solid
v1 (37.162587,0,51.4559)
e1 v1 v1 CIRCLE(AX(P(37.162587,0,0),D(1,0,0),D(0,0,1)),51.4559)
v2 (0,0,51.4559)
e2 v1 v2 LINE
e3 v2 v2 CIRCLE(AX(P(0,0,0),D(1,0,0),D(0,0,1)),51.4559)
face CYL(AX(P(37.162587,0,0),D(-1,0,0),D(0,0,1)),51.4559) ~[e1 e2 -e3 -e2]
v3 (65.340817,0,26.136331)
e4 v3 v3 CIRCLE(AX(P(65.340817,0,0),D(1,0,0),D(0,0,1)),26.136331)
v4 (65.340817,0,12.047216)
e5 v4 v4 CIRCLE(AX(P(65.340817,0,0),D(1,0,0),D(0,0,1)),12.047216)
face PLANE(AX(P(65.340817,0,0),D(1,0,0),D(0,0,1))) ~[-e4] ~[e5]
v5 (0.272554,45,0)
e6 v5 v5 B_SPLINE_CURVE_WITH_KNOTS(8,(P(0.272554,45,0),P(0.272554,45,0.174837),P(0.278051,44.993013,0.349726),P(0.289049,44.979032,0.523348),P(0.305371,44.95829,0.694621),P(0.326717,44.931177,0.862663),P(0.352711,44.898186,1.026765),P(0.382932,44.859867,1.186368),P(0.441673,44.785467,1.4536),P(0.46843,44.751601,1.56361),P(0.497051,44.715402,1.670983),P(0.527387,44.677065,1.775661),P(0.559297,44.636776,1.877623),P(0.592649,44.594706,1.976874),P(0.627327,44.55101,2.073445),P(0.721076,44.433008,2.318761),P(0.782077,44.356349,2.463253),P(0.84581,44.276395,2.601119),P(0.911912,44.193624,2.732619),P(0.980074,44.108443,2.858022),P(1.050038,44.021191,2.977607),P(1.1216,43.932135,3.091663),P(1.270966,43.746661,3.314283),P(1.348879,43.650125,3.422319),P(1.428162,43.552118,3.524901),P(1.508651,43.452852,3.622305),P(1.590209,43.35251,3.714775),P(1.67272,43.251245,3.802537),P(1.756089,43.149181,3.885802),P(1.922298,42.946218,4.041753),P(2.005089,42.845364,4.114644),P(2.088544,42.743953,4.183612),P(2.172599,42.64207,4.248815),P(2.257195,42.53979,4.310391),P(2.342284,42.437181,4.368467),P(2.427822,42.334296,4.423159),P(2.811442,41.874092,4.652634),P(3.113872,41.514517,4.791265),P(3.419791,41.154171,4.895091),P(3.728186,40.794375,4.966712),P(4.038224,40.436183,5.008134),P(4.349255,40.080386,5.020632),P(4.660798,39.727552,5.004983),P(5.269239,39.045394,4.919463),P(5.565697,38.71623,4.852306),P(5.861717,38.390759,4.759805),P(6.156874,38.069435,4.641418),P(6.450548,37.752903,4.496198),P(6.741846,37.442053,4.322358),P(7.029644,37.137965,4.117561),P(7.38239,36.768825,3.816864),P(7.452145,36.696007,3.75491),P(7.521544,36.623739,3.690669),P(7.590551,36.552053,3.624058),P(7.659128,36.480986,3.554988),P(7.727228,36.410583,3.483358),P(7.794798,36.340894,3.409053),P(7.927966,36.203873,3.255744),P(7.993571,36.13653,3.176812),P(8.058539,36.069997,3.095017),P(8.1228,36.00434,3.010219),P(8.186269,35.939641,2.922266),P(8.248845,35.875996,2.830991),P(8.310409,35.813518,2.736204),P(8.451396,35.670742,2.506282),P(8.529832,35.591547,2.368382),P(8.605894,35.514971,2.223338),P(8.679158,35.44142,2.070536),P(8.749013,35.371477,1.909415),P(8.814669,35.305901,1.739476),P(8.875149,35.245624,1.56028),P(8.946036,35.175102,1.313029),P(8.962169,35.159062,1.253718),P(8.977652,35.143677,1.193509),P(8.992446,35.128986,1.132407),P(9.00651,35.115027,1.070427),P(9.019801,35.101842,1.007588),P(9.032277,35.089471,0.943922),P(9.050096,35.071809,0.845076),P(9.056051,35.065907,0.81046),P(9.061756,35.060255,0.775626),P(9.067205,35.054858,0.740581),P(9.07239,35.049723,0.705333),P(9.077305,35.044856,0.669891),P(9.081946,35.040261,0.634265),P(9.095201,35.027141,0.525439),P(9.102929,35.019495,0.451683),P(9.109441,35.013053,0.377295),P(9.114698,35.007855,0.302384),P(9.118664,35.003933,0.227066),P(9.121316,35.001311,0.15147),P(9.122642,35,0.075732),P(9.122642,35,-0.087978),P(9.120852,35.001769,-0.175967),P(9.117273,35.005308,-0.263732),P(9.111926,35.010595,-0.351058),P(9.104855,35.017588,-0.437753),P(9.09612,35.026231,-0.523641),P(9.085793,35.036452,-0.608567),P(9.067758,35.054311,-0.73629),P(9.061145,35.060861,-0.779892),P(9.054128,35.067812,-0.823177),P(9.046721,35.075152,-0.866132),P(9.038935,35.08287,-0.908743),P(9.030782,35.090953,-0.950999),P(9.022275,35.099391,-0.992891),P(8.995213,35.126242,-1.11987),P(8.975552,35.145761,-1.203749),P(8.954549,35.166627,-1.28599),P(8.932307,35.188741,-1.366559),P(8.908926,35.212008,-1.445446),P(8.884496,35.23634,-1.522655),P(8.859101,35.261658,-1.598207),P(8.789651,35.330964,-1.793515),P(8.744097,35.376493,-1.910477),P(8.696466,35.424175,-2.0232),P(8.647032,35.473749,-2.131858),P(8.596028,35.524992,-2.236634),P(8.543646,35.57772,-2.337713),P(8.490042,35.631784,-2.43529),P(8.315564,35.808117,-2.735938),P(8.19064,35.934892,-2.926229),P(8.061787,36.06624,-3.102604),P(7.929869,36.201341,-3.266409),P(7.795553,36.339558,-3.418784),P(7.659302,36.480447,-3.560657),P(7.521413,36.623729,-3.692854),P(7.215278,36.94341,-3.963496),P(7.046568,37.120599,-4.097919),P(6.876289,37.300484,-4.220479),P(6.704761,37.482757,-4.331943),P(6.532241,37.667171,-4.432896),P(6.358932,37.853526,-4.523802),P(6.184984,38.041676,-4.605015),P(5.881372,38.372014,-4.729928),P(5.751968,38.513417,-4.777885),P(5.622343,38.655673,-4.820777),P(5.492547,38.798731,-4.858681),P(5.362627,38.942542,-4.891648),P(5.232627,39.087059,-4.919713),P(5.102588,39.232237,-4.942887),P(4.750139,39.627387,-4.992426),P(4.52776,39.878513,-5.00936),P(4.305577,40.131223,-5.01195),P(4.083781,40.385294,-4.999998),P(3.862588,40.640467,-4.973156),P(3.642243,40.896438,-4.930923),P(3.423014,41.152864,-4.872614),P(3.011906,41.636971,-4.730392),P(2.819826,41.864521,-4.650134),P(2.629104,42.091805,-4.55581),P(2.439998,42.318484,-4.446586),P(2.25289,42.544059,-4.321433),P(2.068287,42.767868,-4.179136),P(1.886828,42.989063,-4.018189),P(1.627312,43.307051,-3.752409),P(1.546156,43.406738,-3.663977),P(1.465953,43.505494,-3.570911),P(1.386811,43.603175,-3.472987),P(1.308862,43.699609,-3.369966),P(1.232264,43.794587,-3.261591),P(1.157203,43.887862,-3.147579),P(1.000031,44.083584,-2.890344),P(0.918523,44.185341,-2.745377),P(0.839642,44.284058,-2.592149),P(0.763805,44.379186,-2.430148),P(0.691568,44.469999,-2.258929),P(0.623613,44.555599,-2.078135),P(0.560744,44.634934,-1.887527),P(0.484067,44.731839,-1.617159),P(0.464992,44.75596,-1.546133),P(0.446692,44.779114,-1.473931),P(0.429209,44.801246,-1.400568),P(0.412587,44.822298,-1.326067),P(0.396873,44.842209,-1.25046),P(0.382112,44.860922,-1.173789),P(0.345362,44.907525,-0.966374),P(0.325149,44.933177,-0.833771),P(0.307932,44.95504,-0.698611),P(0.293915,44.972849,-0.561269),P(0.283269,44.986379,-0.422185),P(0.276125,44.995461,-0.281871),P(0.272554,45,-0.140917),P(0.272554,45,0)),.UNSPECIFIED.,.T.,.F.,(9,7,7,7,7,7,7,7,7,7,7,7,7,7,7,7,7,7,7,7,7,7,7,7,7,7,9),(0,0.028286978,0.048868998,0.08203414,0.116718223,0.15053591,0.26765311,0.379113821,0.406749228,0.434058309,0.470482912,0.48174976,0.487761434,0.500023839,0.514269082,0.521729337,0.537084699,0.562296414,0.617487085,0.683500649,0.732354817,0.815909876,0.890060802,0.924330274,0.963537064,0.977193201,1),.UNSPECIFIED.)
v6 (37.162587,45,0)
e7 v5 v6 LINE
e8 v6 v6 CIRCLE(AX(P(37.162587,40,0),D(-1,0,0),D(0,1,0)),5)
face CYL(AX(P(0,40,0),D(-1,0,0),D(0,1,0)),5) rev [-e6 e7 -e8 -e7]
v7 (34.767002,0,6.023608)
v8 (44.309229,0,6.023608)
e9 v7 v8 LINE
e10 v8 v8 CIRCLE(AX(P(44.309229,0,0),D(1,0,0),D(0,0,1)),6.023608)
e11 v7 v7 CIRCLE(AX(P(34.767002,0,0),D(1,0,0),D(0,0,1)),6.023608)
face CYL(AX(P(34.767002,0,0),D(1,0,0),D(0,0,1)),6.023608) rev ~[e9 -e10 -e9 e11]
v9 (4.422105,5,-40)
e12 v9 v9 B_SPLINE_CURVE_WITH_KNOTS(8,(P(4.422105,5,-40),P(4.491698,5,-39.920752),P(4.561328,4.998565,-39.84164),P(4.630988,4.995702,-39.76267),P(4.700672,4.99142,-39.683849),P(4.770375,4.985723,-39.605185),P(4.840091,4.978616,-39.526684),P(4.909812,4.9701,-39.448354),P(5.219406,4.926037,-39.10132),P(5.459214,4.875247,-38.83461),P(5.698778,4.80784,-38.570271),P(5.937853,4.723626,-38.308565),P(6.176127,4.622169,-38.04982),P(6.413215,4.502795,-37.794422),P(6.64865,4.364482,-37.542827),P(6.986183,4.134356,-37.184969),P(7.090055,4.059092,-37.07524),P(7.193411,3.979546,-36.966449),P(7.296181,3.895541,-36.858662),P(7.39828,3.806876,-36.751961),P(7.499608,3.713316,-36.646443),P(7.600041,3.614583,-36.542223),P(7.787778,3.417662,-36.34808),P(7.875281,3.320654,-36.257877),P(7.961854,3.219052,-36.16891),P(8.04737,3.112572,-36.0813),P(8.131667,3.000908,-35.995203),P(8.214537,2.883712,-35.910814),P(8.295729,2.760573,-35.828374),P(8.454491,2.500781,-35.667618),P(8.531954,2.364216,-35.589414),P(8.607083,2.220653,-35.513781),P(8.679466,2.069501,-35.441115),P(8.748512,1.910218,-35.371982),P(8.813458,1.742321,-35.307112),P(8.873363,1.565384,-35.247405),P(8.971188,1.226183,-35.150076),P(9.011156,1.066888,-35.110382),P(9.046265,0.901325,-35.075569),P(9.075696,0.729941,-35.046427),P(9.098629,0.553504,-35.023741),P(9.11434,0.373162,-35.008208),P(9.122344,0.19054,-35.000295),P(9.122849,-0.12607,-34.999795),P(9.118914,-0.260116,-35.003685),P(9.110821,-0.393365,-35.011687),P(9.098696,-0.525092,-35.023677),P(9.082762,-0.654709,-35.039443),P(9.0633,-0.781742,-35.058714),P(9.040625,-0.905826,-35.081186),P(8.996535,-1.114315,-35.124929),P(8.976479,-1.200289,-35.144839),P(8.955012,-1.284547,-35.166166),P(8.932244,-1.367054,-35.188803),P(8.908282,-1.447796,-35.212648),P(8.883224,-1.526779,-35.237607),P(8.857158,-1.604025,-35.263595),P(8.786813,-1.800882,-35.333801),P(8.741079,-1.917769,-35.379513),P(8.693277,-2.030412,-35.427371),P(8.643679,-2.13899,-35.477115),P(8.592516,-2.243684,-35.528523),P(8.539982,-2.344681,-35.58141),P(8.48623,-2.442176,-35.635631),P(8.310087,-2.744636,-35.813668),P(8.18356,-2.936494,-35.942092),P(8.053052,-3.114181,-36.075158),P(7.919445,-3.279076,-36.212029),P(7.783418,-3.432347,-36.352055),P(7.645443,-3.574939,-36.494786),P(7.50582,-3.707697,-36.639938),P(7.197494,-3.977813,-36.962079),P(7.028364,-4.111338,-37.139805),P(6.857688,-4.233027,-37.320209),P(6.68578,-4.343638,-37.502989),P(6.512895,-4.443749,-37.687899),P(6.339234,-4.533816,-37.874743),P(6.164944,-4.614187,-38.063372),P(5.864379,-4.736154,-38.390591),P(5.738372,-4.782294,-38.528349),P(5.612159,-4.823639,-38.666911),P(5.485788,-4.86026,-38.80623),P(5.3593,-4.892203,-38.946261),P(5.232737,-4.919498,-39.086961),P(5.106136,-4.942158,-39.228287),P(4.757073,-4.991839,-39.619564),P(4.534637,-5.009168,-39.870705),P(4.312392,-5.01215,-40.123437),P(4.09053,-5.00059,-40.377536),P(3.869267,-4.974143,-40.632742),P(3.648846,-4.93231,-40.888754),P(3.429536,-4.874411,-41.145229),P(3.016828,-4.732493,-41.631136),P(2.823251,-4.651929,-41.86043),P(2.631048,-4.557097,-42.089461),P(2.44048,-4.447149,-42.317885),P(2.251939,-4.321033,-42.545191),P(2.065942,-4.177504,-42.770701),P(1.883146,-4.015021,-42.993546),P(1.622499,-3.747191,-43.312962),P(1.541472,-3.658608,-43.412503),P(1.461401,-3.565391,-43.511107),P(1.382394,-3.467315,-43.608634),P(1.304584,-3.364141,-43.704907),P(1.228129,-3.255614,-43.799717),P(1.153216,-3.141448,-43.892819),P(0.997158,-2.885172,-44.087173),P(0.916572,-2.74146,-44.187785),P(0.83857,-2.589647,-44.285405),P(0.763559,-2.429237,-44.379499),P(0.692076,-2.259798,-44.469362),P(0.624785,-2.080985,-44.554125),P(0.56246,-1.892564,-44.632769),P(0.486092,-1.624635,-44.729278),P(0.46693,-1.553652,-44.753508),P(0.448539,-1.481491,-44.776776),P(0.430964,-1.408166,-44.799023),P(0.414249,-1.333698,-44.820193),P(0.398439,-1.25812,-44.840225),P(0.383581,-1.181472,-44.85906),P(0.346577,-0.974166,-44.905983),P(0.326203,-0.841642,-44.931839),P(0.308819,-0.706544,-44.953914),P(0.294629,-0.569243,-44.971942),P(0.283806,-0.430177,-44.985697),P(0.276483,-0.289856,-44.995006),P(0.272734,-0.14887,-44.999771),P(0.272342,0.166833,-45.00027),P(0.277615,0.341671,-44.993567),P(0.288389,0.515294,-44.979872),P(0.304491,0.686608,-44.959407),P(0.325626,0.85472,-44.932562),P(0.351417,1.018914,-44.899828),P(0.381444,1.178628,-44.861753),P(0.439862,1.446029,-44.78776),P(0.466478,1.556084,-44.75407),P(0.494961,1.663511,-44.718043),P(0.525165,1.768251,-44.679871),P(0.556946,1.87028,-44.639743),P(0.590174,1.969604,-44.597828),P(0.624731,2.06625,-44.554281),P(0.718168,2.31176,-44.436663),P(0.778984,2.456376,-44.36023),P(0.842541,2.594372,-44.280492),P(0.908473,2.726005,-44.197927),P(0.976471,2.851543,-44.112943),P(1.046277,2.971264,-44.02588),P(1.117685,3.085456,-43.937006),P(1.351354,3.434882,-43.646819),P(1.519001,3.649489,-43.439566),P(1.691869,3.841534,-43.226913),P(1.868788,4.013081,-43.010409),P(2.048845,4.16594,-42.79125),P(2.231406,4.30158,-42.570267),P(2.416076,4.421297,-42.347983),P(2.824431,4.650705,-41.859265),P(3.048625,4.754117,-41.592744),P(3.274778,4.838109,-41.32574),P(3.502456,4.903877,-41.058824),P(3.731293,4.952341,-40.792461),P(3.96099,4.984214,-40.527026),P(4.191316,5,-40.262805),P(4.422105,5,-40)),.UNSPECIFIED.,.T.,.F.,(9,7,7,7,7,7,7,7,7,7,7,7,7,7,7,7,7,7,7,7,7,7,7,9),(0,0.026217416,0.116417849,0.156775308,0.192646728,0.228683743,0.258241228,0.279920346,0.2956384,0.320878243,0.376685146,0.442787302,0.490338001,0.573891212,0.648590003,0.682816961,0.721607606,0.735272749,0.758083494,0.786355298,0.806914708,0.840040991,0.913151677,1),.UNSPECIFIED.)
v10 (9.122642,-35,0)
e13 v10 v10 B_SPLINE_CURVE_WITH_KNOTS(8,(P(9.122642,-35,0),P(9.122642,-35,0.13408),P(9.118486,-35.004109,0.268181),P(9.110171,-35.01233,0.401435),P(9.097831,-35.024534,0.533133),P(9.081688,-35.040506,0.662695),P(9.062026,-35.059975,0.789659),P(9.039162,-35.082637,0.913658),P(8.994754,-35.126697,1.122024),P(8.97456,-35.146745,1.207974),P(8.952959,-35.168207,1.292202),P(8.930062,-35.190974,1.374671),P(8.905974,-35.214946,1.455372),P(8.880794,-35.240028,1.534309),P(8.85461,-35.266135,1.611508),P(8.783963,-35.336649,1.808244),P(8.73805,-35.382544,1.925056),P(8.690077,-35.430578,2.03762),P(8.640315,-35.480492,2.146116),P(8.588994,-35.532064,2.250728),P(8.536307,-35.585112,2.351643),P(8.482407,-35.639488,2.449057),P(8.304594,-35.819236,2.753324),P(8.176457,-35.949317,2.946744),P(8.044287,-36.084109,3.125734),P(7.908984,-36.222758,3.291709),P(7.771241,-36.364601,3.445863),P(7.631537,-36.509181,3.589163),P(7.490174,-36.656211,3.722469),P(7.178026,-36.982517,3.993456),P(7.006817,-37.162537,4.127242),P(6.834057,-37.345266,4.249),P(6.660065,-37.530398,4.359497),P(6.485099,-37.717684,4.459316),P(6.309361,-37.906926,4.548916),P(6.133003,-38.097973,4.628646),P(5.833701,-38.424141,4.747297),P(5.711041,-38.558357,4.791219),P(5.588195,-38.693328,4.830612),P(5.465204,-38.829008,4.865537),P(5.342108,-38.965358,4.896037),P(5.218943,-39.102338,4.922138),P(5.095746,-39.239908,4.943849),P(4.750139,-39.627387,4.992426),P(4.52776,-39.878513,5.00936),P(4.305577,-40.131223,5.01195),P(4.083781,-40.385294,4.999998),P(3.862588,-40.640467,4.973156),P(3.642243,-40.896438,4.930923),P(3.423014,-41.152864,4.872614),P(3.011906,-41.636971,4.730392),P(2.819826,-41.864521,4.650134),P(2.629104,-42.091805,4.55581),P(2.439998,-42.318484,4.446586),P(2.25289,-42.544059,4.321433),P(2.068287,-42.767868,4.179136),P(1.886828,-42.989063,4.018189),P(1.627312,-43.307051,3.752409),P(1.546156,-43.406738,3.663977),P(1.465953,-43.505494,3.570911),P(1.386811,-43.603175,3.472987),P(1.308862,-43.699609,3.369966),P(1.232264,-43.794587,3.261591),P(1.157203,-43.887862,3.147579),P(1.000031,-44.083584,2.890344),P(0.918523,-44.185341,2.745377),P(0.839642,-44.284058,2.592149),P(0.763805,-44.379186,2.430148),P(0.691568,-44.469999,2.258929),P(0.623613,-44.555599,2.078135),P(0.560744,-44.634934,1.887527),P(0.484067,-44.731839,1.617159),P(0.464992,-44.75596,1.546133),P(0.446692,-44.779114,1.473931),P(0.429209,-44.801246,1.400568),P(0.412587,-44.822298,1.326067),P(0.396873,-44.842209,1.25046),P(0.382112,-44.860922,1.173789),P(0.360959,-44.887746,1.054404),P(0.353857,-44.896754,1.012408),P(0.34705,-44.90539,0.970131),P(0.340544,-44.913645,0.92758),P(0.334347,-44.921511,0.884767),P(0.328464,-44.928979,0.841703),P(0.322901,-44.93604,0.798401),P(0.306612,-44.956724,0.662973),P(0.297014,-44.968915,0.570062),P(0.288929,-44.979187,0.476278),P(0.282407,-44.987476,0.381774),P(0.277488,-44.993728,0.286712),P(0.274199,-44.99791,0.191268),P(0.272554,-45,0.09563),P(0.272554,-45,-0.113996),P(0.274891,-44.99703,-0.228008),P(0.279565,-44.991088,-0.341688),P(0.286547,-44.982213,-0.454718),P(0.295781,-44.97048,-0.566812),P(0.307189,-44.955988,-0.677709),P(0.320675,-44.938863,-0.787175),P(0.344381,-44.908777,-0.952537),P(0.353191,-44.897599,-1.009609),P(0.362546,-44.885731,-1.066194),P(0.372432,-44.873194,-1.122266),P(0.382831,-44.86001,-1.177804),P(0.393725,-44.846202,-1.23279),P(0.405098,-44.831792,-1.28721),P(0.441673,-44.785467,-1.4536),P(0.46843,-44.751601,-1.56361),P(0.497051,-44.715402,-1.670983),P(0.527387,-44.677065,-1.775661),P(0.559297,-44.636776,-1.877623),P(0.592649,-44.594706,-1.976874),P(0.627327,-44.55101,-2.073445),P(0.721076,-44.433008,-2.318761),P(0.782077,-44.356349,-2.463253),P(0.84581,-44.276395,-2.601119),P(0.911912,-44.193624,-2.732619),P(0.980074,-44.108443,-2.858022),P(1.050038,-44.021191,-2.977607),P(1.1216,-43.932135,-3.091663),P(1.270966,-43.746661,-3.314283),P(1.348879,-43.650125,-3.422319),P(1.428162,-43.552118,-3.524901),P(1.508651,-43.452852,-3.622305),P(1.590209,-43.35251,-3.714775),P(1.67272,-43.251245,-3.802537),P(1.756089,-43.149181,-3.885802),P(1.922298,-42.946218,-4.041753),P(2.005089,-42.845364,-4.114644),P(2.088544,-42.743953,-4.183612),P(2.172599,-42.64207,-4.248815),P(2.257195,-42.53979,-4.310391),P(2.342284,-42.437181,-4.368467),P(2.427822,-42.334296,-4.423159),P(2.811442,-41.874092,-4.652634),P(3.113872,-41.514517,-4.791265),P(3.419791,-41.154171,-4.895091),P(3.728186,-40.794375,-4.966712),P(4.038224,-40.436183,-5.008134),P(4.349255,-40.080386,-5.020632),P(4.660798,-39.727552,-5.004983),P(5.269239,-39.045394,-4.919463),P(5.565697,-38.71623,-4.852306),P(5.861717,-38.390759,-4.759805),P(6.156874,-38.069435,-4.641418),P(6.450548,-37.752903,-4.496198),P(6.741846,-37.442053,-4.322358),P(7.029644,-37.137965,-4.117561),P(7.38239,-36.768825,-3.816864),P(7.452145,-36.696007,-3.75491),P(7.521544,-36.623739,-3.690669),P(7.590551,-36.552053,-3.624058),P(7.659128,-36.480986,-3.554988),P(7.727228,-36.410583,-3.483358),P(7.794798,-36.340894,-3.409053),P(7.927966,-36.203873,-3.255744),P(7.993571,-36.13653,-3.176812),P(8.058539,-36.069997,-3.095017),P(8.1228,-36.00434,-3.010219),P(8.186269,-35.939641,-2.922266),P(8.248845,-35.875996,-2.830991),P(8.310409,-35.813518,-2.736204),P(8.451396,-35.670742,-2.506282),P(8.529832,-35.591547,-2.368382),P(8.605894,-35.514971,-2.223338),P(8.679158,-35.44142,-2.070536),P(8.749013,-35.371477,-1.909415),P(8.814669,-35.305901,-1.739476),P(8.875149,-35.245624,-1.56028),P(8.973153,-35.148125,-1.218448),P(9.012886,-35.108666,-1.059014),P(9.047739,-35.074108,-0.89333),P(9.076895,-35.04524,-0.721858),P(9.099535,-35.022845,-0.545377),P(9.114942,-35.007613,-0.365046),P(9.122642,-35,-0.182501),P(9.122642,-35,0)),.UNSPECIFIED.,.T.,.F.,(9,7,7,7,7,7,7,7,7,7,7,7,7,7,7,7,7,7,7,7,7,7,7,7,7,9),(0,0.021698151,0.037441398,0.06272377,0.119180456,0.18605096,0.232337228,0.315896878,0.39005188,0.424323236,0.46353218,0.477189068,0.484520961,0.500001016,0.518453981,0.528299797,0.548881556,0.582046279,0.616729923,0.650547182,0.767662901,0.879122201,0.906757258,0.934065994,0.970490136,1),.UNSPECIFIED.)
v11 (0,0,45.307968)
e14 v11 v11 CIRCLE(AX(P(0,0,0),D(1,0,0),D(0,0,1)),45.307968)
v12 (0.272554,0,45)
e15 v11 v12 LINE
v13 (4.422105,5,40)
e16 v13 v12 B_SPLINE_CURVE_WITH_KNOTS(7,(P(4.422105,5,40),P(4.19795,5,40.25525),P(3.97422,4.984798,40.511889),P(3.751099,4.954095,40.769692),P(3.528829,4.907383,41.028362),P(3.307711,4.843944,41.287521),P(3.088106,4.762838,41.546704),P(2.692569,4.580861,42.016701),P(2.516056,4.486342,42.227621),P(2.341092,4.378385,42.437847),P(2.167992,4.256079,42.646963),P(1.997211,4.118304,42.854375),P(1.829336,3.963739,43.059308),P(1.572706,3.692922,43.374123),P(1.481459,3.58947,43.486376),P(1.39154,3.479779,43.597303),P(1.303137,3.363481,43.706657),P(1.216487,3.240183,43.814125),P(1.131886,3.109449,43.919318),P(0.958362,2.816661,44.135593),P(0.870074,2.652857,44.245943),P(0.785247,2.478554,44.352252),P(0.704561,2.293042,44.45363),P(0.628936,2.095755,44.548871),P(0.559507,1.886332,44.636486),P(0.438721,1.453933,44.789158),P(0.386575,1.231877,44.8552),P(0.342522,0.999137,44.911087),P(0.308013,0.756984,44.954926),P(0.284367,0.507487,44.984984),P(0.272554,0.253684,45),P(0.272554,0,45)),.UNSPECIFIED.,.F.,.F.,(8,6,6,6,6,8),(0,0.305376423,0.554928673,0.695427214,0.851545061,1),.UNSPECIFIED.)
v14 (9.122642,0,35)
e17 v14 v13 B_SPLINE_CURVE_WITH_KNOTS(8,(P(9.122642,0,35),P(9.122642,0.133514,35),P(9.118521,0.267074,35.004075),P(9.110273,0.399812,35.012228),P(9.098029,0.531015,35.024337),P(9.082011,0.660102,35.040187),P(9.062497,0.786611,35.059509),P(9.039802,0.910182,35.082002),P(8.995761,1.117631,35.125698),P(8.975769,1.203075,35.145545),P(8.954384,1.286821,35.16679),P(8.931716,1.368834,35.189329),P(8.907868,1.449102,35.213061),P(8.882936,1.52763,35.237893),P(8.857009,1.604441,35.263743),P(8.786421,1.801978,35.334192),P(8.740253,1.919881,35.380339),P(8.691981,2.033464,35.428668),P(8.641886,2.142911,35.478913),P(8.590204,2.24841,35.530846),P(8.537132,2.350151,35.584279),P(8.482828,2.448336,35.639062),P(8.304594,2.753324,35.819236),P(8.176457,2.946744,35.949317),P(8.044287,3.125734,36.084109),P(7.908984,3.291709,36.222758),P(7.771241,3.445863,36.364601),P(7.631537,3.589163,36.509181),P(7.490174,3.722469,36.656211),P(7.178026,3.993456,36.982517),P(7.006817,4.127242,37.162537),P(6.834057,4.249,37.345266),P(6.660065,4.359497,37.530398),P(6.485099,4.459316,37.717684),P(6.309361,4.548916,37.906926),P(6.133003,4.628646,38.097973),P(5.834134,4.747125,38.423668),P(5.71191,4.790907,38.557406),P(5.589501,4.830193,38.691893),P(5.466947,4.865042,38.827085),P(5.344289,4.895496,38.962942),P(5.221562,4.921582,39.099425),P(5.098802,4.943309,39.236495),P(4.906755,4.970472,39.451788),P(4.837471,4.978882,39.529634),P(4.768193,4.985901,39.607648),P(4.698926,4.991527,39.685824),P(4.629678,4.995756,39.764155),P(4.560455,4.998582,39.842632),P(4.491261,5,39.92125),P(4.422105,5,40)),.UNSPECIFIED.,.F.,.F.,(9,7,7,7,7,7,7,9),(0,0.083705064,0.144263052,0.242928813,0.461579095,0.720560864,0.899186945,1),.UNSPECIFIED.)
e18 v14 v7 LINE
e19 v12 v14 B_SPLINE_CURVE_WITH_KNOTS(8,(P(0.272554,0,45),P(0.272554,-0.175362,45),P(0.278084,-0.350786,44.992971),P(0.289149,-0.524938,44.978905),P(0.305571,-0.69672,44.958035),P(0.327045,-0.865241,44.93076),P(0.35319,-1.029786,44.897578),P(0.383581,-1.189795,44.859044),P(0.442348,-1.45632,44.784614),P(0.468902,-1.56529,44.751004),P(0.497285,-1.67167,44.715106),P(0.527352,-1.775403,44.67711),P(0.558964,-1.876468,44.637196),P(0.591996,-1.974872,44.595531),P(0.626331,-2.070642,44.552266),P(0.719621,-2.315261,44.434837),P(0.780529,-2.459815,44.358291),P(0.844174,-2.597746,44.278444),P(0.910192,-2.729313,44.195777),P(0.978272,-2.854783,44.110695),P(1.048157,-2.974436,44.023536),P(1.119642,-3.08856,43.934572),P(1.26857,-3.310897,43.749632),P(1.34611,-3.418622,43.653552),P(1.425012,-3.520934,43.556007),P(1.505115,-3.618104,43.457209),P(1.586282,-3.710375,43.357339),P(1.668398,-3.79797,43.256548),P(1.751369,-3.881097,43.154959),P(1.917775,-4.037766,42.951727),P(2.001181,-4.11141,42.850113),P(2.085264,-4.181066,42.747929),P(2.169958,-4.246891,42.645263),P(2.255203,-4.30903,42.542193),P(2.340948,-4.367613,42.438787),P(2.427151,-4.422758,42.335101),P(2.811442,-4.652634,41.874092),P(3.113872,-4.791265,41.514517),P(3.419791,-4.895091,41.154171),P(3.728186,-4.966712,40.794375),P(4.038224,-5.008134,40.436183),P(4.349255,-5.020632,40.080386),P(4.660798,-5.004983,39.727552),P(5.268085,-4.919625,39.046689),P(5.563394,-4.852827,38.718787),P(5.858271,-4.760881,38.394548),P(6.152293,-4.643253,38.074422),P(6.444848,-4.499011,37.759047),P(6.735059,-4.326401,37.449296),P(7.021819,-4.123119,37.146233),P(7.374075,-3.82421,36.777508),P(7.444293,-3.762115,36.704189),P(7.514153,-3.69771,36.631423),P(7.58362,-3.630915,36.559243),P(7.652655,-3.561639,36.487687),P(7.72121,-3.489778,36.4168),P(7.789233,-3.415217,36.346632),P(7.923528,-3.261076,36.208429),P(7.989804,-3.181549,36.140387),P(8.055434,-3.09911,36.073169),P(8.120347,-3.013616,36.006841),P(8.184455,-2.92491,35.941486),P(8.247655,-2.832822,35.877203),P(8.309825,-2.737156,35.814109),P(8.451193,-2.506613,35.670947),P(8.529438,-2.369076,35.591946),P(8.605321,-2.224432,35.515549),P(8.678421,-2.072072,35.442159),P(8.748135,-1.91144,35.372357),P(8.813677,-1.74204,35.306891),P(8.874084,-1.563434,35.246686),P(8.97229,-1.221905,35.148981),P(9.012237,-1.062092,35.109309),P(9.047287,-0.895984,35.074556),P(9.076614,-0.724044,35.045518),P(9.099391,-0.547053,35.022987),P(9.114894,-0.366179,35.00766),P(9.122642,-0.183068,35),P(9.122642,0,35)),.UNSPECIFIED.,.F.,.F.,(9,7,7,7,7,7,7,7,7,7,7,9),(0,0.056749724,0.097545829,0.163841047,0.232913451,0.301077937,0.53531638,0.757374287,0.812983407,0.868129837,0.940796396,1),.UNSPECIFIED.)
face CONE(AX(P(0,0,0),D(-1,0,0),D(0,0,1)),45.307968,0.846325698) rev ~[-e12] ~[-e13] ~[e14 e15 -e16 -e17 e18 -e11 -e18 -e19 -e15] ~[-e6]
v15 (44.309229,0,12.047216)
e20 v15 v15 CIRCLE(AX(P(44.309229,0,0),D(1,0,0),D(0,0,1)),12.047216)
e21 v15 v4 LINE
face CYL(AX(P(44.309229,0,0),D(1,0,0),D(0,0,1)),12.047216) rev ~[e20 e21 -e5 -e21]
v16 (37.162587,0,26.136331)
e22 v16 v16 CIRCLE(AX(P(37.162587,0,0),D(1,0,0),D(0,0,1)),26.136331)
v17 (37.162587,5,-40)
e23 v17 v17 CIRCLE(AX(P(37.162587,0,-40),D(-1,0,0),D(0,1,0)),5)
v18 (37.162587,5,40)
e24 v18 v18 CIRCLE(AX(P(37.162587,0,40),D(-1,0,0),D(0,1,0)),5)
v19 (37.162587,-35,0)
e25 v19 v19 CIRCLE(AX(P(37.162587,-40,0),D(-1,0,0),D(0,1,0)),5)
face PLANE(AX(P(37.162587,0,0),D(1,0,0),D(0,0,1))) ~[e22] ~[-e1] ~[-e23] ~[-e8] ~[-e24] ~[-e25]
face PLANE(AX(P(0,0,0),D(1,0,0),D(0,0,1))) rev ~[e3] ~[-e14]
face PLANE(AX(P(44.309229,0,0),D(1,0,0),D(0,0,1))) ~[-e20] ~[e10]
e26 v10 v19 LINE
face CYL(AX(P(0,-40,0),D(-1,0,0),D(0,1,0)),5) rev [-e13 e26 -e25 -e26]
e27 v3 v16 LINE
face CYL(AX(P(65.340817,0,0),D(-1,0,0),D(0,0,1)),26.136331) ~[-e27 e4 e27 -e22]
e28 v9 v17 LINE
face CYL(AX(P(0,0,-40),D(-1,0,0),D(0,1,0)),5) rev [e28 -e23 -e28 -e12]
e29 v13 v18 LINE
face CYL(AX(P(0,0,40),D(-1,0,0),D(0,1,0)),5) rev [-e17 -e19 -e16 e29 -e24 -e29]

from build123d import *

# Parameters (mm, degrees)
F2_R     = 5
F3_DEPTH = 65.341817


with BuildPart() as f1:
    # F0 (on Front) → F1 (revolve)
    with BuildSketch(Plane.XZ):
        Polygon((0, 51.4559), (0, 45.307968), (34.767002, 6.023608), (44.309229, 6.023608), (44.309229, 12.047216), (65.340817, 12.047216), (65.340817, 26.136331), (37.162587, 26.136331), (37.162587, 51.4559), align=None)
    revolve(axis=Axis((22.154614, 0, 0), (1, 0, 0)))

    # F2 (on Right) → F3 (cut, through all)
    with BuildSketch(Plane.YZ):
        with Locations((0, 40)):
            Circle(F2_R)
        with Locations((-40, 0)):
            Circle(F2_R)
        with Locations((40, 0)):
            Circle(F2_R)
        with Locations((0, -40)):
            Circle(F2_R)
    extrude(amount=F3_DEPTH, mode=Mode.SUBTRACT)


solid = f1.part
